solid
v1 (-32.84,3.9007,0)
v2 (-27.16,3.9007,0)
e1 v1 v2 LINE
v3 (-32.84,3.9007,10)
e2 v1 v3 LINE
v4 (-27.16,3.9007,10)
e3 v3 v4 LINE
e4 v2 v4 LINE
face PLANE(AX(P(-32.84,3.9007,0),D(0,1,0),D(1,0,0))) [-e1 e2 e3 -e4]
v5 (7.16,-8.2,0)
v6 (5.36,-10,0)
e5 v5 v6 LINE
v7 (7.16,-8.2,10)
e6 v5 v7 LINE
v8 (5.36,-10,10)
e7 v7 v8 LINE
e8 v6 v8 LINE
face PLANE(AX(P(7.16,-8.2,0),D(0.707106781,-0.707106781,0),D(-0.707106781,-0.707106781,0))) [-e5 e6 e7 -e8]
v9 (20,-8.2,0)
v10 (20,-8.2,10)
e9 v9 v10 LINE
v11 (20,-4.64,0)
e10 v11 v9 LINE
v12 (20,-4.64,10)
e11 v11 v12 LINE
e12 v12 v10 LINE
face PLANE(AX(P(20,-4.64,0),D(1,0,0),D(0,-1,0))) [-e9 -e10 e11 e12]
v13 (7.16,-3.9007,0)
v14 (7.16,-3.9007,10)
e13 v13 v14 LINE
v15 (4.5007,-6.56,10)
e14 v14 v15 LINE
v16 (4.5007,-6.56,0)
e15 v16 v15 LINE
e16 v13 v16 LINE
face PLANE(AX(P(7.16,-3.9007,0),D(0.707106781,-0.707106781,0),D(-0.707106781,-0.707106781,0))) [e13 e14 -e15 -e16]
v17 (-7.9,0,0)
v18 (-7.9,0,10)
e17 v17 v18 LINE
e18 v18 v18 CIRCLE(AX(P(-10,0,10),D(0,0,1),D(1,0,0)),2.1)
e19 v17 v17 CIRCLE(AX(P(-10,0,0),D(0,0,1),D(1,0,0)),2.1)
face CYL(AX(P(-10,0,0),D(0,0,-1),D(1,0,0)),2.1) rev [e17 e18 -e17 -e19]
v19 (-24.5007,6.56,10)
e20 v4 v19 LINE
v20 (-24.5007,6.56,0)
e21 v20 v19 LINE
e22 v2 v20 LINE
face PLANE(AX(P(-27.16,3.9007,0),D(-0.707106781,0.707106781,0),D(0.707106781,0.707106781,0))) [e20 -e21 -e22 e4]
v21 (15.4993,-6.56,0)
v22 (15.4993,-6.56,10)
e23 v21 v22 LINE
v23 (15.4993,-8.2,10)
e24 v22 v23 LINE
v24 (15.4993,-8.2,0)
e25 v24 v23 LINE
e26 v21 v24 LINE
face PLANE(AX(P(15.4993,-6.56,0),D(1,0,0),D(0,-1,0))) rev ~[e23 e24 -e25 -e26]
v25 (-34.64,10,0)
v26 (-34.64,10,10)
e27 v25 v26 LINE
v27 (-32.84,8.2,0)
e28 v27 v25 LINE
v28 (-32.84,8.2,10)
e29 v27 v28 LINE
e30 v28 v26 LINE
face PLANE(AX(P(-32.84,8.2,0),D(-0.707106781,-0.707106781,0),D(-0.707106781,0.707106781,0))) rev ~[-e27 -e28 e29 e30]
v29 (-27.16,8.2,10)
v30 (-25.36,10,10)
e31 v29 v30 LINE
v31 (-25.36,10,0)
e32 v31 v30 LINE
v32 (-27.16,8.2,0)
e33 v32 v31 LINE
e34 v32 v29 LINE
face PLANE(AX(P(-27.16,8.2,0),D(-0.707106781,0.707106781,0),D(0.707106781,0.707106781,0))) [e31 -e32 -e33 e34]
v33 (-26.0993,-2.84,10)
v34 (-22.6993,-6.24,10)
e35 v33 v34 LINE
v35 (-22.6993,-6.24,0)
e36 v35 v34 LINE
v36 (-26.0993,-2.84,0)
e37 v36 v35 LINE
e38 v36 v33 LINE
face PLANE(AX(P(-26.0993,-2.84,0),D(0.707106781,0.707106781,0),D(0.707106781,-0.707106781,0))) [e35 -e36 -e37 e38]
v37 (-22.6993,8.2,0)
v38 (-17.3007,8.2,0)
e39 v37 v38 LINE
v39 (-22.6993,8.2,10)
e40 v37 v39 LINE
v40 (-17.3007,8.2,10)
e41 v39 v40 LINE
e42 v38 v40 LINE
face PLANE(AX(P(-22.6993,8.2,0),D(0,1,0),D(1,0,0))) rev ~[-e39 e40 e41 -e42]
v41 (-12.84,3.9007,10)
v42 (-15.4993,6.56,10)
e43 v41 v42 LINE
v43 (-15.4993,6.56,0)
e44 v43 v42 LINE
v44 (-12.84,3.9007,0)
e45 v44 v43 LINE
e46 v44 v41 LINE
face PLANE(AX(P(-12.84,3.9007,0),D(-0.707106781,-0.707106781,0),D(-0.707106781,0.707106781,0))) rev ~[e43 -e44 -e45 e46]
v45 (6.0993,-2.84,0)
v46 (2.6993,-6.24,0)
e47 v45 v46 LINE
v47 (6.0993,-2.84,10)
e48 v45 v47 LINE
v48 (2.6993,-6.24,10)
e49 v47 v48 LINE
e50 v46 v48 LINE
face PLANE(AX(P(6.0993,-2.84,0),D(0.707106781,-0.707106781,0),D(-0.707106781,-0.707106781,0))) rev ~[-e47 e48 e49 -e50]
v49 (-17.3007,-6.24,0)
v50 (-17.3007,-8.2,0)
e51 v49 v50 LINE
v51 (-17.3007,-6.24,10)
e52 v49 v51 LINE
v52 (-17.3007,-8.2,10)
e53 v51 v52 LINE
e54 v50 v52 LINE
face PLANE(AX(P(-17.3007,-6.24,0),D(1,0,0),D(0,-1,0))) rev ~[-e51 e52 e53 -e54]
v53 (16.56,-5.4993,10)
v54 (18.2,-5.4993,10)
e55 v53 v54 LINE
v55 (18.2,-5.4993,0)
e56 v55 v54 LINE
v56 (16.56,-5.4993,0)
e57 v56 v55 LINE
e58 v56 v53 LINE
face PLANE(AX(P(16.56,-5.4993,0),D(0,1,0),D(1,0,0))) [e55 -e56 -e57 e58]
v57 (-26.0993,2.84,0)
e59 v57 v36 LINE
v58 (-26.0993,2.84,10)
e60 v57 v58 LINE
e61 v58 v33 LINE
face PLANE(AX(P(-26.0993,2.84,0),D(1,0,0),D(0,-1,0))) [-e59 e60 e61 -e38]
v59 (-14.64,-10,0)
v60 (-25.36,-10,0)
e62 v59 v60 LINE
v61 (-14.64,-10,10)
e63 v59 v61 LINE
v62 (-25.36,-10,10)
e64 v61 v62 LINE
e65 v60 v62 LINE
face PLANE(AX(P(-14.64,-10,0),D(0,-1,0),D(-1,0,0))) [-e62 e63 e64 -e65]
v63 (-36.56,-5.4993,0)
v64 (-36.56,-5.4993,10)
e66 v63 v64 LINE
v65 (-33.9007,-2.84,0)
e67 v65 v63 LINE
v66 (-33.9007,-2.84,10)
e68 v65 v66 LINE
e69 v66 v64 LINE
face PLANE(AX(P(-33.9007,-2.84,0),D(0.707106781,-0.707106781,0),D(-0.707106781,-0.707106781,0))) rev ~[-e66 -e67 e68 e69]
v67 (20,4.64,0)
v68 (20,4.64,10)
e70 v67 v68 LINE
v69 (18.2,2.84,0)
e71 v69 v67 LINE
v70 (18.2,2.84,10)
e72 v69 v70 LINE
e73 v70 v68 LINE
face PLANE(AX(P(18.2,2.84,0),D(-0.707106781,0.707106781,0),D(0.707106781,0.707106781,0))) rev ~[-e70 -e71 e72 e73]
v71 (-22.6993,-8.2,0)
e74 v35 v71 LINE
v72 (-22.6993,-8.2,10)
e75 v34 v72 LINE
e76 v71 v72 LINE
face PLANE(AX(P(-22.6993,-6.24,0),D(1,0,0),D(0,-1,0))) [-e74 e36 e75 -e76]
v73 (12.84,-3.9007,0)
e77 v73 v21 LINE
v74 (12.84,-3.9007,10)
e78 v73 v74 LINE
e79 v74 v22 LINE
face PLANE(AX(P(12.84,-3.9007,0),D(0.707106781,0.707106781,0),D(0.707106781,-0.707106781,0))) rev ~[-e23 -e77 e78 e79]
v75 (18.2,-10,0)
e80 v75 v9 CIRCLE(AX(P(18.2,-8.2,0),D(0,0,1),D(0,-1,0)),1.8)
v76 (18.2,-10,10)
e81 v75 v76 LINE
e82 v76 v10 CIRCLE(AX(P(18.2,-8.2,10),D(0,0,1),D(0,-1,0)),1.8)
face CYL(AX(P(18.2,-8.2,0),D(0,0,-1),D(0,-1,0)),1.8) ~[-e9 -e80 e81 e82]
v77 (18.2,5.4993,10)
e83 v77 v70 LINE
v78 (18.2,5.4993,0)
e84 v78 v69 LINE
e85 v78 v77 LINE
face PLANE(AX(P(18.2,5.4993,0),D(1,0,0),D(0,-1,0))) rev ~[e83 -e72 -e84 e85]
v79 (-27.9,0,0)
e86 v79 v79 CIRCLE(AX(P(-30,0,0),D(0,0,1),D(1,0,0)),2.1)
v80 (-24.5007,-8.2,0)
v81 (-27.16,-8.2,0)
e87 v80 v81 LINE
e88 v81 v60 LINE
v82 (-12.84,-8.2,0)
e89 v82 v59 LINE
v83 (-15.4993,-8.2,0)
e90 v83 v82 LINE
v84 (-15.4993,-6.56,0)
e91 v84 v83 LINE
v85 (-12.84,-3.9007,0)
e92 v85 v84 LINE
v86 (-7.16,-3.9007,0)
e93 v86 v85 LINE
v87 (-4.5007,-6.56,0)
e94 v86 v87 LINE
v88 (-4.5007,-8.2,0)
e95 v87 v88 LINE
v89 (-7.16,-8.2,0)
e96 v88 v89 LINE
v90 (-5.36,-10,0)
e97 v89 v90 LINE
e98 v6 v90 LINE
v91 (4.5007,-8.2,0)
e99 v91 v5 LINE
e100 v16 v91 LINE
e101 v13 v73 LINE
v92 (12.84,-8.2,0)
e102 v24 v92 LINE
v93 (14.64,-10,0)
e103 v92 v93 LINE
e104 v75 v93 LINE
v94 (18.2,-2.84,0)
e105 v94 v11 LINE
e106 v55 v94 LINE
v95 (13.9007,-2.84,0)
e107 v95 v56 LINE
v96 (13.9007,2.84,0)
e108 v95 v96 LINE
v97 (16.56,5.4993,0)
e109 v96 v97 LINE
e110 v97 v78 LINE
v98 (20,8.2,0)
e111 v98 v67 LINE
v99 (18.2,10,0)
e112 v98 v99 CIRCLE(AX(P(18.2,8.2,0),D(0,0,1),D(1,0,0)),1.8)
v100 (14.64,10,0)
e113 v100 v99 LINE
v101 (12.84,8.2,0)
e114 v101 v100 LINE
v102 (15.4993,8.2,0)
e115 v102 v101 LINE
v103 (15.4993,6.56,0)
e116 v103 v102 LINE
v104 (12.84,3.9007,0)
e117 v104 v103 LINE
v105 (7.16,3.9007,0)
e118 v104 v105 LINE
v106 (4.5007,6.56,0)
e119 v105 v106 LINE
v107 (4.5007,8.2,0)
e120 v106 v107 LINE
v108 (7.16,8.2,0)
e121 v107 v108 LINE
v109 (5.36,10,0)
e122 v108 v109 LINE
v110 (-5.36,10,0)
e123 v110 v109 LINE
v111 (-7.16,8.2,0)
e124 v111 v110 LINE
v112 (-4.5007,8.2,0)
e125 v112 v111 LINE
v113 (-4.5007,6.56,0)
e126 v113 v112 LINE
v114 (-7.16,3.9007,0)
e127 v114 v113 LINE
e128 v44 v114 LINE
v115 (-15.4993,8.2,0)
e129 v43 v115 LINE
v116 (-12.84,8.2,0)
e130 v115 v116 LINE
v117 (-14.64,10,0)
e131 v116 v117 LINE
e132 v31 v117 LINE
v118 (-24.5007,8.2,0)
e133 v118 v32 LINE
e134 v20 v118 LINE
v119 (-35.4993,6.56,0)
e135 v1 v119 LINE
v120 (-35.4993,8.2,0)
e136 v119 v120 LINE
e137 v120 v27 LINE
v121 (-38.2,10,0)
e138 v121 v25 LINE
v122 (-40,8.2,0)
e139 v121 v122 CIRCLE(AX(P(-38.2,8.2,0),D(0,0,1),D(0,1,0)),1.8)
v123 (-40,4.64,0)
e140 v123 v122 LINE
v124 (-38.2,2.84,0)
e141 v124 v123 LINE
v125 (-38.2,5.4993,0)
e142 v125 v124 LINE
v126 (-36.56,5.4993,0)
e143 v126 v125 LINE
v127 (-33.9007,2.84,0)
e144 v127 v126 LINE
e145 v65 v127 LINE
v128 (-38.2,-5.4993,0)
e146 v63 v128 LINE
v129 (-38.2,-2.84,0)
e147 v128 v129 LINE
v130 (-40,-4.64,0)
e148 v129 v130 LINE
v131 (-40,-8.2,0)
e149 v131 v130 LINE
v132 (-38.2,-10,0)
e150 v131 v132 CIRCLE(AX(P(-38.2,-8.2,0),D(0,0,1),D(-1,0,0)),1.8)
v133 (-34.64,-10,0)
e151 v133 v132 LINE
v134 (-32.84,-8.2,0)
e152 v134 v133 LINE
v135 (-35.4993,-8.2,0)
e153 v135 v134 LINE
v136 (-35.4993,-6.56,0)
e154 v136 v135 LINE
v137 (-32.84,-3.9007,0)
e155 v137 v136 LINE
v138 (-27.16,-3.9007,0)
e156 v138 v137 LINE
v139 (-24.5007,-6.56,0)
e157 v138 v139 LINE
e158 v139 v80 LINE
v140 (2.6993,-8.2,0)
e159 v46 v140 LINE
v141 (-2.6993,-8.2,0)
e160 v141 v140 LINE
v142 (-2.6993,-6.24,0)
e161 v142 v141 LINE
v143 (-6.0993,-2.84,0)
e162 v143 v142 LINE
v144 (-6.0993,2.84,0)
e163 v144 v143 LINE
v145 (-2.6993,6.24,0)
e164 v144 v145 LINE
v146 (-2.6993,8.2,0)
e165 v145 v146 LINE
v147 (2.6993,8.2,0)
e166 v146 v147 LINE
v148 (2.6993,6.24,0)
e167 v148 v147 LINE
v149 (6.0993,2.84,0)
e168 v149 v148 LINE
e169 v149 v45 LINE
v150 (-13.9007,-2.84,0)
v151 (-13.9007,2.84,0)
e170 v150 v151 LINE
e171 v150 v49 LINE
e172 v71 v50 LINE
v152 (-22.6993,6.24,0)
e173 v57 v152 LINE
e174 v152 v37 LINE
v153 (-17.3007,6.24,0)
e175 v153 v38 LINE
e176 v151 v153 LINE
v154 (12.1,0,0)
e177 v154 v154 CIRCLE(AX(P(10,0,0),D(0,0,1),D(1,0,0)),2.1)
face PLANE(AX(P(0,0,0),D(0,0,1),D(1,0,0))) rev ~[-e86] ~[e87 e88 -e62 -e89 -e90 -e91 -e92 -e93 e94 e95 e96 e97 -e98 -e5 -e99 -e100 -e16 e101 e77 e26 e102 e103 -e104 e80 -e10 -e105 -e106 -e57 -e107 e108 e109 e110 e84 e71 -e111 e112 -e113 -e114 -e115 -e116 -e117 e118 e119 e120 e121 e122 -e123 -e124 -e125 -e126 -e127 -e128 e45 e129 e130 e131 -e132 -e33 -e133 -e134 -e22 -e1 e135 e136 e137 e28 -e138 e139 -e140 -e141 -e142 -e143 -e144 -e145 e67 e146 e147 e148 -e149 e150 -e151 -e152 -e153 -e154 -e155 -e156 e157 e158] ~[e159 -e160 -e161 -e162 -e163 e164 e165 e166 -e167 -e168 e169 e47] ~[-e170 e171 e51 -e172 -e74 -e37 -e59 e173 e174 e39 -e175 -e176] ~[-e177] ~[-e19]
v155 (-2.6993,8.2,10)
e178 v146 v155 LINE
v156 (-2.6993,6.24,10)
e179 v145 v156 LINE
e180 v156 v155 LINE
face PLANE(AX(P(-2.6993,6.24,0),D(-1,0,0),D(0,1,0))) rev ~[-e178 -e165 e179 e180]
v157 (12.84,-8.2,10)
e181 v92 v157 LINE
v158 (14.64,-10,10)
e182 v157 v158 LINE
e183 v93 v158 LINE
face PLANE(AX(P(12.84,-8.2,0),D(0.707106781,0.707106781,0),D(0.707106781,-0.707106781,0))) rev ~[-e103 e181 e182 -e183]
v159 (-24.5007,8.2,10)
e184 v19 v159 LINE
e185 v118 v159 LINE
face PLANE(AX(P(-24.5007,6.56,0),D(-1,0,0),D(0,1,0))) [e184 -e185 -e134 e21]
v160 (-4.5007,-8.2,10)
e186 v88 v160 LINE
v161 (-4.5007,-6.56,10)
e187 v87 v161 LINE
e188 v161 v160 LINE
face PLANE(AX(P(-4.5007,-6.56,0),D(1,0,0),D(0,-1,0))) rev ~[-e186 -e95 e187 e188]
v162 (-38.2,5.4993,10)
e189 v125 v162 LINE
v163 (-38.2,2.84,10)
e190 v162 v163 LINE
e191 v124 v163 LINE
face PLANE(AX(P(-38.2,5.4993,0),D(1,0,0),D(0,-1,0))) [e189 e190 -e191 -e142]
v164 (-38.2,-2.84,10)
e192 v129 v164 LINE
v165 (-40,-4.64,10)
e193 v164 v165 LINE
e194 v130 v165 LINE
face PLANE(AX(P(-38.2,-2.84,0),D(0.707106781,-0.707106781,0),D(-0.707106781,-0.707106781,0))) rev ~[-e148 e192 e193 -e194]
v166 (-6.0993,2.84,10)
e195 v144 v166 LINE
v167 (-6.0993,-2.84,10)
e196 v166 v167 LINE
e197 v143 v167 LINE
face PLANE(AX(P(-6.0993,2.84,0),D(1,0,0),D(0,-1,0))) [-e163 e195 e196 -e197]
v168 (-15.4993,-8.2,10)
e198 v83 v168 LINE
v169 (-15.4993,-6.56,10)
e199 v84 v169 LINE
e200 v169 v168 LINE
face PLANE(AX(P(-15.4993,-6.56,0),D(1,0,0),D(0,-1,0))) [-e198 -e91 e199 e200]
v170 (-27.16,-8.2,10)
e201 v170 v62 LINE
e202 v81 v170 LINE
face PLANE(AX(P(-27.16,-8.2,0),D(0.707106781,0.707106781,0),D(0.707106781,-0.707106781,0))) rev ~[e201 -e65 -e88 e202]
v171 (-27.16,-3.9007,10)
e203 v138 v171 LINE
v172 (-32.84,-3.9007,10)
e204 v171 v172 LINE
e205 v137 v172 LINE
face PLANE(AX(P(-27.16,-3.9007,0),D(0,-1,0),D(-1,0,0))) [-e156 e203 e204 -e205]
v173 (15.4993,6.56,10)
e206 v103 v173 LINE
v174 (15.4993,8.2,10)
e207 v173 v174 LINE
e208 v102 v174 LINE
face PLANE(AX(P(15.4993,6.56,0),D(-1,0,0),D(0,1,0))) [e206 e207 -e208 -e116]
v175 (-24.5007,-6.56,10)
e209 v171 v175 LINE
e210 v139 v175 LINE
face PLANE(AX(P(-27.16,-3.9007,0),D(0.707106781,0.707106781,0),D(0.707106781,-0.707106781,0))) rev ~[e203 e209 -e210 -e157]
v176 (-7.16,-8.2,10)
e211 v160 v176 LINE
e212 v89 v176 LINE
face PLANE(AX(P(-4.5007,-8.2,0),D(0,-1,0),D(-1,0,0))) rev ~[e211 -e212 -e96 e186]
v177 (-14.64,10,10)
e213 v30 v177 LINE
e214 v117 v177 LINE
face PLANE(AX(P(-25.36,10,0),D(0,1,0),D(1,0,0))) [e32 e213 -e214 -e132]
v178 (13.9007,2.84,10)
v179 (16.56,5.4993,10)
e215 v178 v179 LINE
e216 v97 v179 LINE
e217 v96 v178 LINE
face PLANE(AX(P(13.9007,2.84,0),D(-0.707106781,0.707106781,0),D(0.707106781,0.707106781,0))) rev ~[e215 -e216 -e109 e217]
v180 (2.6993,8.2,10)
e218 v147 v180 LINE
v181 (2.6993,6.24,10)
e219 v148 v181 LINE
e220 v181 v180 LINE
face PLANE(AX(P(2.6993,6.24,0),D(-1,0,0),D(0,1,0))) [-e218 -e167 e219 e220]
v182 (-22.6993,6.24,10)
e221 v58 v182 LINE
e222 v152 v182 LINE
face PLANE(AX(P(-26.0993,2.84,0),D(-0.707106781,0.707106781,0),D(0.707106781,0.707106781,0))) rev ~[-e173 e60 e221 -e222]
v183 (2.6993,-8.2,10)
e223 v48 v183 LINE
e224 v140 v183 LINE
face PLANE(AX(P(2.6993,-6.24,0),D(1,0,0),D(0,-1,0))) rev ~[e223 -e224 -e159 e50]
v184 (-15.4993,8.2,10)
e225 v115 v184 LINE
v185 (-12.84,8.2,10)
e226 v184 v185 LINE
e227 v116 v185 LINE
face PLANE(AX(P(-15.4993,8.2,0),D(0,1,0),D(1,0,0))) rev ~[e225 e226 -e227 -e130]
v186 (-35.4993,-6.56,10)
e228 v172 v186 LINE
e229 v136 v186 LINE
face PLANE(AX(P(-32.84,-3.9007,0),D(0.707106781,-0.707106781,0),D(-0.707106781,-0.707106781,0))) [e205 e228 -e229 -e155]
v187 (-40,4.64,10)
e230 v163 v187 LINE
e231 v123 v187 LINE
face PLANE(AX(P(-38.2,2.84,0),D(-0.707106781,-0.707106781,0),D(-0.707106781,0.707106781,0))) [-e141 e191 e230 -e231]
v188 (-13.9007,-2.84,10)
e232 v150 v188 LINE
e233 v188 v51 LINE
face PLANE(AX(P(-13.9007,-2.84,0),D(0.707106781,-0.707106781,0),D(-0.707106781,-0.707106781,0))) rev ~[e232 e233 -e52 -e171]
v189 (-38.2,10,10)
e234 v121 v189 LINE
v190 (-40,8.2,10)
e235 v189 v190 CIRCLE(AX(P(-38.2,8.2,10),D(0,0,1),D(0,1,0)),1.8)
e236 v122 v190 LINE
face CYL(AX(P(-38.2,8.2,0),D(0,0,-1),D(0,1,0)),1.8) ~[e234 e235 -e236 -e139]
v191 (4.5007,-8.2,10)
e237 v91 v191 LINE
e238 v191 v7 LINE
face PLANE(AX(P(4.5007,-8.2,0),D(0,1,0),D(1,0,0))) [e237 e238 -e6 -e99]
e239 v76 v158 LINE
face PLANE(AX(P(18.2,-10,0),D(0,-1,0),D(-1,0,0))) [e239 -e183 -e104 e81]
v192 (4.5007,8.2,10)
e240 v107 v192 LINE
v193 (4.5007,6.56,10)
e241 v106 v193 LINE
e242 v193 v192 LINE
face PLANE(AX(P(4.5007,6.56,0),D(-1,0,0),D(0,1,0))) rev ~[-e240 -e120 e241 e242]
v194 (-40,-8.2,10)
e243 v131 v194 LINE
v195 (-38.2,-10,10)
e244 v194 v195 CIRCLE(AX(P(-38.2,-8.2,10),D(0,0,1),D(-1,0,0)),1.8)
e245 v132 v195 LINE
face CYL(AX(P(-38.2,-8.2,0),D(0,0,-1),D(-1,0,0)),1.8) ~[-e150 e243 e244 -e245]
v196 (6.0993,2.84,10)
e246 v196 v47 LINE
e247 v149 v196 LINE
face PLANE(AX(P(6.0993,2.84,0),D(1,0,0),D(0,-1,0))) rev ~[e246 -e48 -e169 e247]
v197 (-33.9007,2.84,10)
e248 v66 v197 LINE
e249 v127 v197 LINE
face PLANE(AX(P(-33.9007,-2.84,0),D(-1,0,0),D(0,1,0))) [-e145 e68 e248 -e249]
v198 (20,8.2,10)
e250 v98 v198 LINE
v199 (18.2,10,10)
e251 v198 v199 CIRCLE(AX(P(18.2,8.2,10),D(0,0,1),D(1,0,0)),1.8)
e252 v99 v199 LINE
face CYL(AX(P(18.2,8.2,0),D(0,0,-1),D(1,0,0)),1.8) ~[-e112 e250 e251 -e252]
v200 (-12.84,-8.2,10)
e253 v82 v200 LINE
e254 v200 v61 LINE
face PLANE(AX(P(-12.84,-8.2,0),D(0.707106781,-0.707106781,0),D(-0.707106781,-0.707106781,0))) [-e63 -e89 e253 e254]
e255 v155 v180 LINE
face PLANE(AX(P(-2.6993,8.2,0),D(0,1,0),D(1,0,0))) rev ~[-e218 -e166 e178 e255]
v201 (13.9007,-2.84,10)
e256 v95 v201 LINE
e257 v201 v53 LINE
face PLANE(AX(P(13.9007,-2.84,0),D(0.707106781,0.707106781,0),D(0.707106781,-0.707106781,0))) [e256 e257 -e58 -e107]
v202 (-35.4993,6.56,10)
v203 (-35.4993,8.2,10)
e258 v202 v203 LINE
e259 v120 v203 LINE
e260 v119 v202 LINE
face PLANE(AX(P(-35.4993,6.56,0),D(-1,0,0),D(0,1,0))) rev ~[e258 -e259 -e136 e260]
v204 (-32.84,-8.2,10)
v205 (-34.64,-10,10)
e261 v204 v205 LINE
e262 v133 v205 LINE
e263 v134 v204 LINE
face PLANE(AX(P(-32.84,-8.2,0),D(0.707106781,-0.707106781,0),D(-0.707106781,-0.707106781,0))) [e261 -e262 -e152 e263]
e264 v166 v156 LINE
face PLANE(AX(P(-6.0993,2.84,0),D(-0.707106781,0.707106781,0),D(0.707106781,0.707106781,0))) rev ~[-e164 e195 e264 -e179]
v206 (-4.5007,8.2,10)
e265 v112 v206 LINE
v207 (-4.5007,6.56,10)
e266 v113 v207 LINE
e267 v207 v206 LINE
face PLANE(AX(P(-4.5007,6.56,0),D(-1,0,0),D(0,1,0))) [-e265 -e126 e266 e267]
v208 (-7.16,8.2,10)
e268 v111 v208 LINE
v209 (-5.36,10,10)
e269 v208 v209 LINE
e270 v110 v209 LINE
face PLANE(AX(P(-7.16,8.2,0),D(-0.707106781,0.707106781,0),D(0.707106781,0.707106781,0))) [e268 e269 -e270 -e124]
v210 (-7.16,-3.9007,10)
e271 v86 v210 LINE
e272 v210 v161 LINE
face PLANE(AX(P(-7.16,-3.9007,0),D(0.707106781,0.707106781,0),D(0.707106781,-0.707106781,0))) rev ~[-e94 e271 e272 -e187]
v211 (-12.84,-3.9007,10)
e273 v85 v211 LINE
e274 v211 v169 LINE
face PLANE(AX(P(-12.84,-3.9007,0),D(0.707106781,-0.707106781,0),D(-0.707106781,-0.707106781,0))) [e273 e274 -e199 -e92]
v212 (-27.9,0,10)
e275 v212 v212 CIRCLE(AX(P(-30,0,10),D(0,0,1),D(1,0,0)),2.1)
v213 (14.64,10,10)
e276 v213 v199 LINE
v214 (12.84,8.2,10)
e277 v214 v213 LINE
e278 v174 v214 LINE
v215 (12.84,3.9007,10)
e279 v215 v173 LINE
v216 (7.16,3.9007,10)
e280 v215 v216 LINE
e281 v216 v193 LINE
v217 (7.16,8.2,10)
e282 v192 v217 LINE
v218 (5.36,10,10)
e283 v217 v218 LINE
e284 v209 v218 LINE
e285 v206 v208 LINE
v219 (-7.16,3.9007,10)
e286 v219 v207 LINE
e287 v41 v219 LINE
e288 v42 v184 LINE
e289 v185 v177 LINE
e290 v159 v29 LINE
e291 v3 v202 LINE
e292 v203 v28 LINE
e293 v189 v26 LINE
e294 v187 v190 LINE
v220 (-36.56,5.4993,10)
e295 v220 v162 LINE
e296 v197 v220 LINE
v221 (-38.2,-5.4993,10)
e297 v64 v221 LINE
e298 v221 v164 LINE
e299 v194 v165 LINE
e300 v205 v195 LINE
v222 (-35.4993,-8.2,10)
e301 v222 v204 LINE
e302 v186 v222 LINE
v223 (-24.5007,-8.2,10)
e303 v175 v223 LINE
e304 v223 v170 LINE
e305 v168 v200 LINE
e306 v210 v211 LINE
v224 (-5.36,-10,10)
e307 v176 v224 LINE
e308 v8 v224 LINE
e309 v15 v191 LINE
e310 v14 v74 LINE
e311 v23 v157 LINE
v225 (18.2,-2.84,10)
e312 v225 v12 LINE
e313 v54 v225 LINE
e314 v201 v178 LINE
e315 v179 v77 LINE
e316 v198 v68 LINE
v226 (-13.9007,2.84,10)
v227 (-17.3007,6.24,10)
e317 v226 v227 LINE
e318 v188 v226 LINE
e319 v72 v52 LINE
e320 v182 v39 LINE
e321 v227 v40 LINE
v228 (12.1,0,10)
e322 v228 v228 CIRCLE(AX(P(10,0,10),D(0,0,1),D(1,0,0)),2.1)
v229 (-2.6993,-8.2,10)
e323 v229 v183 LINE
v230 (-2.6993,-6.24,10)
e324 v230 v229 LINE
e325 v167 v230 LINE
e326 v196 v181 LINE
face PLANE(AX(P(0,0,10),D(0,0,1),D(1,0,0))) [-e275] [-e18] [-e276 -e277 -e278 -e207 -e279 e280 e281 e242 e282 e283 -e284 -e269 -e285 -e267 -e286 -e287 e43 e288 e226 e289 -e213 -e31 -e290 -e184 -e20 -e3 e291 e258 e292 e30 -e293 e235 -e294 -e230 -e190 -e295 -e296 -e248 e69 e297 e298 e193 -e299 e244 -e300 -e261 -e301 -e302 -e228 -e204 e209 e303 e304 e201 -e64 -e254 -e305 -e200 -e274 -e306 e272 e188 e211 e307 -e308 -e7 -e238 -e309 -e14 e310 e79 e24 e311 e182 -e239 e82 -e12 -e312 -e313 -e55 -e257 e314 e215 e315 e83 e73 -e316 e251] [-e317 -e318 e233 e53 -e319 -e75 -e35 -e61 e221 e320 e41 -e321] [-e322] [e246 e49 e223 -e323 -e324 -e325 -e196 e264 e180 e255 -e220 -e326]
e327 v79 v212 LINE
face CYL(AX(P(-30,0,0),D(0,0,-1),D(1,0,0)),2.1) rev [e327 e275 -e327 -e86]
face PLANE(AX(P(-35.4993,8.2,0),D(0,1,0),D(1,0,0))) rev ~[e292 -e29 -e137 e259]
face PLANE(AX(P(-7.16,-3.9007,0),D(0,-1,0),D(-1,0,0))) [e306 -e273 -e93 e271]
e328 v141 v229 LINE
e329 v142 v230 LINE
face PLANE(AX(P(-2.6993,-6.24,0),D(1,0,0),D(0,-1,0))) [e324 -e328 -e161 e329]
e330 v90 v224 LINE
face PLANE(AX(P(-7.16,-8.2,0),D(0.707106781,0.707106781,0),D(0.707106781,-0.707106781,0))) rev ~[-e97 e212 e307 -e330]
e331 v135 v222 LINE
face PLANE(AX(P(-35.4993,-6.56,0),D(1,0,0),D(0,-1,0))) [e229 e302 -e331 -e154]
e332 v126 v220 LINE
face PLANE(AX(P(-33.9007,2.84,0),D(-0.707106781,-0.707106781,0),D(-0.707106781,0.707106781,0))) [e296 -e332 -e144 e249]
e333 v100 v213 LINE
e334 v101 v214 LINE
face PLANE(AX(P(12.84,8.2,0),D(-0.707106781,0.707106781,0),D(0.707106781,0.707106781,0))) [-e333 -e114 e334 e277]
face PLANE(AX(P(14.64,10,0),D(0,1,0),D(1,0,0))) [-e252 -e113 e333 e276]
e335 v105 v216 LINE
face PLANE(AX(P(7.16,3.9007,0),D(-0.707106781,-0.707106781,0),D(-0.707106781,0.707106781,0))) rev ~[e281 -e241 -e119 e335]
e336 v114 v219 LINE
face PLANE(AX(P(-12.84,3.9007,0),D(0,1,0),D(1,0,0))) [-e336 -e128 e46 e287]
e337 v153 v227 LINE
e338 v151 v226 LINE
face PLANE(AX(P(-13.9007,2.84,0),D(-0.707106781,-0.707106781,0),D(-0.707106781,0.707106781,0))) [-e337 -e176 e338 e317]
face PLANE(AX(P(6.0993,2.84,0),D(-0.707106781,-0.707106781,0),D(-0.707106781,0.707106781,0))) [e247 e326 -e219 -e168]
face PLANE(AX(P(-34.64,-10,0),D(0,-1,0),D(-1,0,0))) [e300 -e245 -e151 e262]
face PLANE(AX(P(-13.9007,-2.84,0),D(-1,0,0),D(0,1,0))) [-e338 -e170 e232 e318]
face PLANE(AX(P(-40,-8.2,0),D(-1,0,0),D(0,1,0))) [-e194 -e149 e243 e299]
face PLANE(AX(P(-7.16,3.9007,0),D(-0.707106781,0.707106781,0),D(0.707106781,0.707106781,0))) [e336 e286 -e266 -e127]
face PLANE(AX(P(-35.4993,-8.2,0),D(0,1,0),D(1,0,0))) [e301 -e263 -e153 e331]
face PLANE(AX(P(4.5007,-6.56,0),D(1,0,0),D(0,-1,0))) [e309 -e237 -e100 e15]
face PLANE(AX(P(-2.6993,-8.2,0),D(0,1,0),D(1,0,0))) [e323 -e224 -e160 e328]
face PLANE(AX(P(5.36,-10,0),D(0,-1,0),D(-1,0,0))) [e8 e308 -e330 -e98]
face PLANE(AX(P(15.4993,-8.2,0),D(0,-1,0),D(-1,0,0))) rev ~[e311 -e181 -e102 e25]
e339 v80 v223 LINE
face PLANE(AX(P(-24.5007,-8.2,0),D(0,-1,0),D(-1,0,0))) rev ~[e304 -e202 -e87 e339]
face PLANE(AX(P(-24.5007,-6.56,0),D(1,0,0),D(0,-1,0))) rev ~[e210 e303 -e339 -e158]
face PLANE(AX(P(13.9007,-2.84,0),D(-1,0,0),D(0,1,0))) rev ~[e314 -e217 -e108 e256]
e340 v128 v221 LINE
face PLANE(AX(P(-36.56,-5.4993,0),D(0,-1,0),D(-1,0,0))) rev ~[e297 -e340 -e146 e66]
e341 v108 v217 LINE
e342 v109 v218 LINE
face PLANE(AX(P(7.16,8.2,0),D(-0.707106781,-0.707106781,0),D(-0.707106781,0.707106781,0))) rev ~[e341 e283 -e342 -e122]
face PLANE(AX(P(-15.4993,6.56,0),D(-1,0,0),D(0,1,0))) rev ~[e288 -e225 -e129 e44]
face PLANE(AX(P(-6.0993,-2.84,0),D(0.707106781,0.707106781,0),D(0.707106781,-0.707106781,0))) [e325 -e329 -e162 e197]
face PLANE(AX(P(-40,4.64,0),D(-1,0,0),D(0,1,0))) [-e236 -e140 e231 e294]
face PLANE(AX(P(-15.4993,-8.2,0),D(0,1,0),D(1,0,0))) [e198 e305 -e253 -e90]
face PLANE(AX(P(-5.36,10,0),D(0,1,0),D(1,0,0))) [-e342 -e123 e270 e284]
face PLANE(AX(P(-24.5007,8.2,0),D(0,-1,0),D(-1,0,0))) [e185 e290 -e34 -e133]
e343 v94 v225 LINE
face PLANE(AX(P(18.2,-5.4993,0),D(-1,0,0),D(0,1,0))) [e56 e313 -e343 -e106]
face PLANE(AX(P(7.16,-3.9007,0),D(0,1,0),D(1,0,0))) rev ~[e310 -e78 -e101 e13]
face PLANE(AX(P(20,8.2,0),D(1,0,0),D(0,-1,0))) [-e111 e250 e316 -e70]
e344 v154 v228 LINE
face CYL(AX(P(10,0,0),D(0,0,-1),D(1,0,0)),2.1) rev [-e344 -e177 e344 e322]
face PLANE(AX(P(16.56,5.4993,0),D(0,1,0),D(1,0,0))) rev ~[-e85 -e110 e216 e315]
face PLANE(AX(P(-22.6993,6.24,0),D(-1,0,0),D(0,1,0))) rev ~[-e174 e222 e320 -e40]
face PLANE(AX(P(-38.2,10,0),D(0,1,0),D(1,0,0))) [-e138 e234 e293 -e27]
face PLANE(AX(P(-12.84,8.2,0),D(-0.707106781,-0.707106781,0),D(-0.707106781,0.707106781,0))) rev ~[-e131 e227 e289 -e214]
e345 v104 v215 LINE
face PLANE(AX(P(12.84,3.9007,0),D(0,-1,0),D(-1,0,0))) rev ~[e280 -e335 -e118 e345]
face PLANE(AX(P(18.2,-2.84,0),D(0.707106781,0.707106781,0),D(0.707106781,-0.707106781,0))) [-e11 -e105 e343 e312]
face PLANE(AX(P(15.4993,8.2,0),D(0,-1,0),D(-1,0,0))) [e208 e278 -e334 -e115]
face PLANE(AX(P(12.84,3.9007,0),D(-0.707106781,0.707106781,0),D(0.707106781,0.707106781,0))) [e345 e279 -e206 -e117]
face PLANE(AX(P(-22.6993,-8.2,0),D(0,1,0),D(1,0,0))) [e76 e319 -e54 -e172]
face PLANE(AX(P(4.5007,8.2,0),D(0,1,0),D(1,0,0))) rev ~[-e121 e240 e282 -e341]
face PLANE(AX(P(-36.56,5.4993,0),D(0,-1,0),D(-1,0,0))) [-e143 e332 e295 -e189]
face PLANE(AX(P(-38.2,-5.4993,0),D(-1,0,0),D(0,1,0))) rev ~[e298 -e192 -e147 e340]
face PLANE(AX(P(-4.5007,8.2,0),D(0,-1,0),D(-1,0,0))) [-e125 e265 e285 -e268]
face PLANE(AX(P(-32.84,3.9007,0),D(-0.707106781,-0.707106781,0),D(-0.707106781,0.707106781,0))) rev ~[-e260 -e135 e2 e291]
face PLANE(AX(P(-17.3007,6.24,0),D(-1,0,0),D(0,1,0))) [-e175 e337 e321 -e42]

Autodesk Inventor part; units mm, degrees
ref_plane "YZ Plane" through (0, 0, 0) normal (1, 0, 0) x (0, 1, 0)
ref_plane "Start Plane" through (0, 0, 0) normal (0, 0, 1) x (1, 0, 0)
ref_plane "End Plane" through (0, 0, 10) normal (0, 0, 1) x (1, 0, 0)
sketch "Sketch1" plane through (0, 0, 0) normal (0, 0, 1) x (1, 0, 0)
  line L0 (0, 0) -> (0, 10) construction
  line L1 (0, 10) -> (-10, 10) construction
  line L2 (-10, 10) -> (-10, 0) construction
  line L3 (-10, 10) -> (-20, 10) construction
  line L4 (-20, 10) -> (-20, 0) construction
  circle A0 centre (-10, 0) radius 2.1
  line L5 (-13.9007, -3.9007) -> (-6.0993, -3.9007) construction
  line L6 (-6.0993, -3.9007) -> (-6.0993, 3.9007) construction
  line L7 (-6.0993, 3.9007) -> (-13.9007, 3.9007) construction
  line L8 (-13.9007, 3.9007) -> (-13.9007, -3.9007) construction
  line L9 (-13.9007, -3.9007) -> (-6.0993, 3.9007) construction
  line L10 (-6.0993, -3.9007) -> (-13.9007, 3.9007) construction
  line L11 (-13.9007, -2.84) -> (-12.84, -3.9007) construction
  line L12 (-13.9007, -2.84) -> (-12.4007, -2.84) construction
  line L13 (0, 0) -> (-10, 0) construction
  line L14 (-12.84, -3.9007) -> (-15.4993, -6.56)
  line L15 (-15.4993, -6.56) -> (-15.4993, -8.2)
  line L16 (-15.4993, -8.2) -> (-12.84, -8.2)
  line L17 (-12.84, -8.2) -> (-14.64, -10)
  line L18 (-7.16, -3.9007) -> (-4.5007, -6.56)
  line L19 (-4.5007, -6.56) -> (-4.5007, -8.2)
  line L20 (-4.5007, -8.2) -> (-7.16, -8.2)
  line L21 (-7.16, -8.2) -> (-5.36, -10)
  line L22 (-12.84, 3.9007) -> (-15.4993, 6.56)
  line L23 (-15.4993, 6.56) -> (-15.4993, 8.2)
  line L24 (-15.4993, 8.2) -> (-12.84, 8.2)
  line L25 (-12.84, 8.2) -> (-14.64, 10)
  line L26 (-7.16, 3.9007) -> (-4.5007, 6.56)
  line L27 (-4.5007, 6.56) -> (-4.5007, 8.2)
  line L28 (-4.5007, 8.2) -> (-7.16, 8.2)
  line L29 (-7.16, 8.2) -> (-5.36, 10)
  line L30 (-20, -8.2) -> (-15.4993, -8.2) construction
  line L31 (-13.9007, -2.84) -> (-17.3007, -6.24)
  line L32 (-17.3007, -6.24) -> (-17.3007, -8.2)
  line L33 (-13.9007, 2.84) -> (-17.3007, 6.24)
  line L34 (-17.3007, 6.24) -> (-17.3007, 8.2)
  line L35 (-6.0993, -2.84) -> (-2.6993, -6.24)
  line L36 (-2.6993, -6.24) -> (-2.6993, -8.2)
  line L37 (-2.6993, 6.24) -> (-2.6993, 8.2)
  line L38 (-6.0993, 2.84) -> (-2.6993, 6.24)
  line L39 (-30, 10) -> (-30, 0) construction
  line L40 (-30, 10) -> (-20, 10) construction
  circle A1 centre (-30, 0) radius 2.1
  line L41 (-26.0993, -3.9007) -> (-33.9007, -3.9007) construction
  line L42 (-33.9007, -3.9007) -> (-33.9007, 3.9007) construction
  line L43 (-33.9007, 3.9007) -> (-26.0993, 3.9007) construction
  line L44 (-26.0993, 3.9007) -> (-26.0993, -3.9007) construction
  line L45 (-26.0993, -3.9007) -> (-33.9007, 3.9007) construction
  line L46 (-33.9007, -3.9007) -> (-26.0993, 3.9007) construction
  line L47 (-26.0993, -2.84) -> (-27.16, -3.9007) construction
  line L48 (-26.0993, -2.84) -> (-27.5993, -2.84) construction
  line L49 (-27.16, -3.9007) -> (-24.5007, -6.56)
  line L50 (-24.5007, -6.56) -> (-24.5007, -8.2)
  line L51 (-24.5007, -8.2) -> (-27.16, -8.2)
  line L52 (-27.16, -8.2) -> (-25.36, -10)
  line L53 (-32.84, -3.9007) -> (-35.4993, -6.56)
  line L54 (-35.4993, -6.56) -> (-35.4993, -8.2)
  line L55 (-35.4993, -8.2) -> (-32.84, -8.2)
  line L56 (-32.84, -8.2) -> (-34.64, -10)
  line L57 (-27.16, 3.9007) -> (-24.5007, 6.56)
  line L58 (-24.5007, 6.56) -> (-24.5007, 8.2)
  line L59 (-24.5007, 8.2) -> (-27.16, 8.2)
  line L60 (-27.16, 8.2) -> (-25.36, 10)
  line L61 (-32.84, 8.2) -> (-34.64, 10)
  line L62 (-35.4993, 8.2) -> (-32.84, 8.2)
  line L63 (-35.4993, 6.56) -> (-35.4993, 8.2)
  line L64 (-32.84, 3.9007) -> (-35.4993, 6.56)
  line L65 (-20, -8.2) -> (-24.5007, -8.2) construction
  line L66 (-26.0993, -2.84) -> (-22.6993, -6.24)
  line L67 (-22.6993, -6.24) -> (-22.6993, -8.2)
  line L68 (-22.6993, 6.24) -> (-22.6993, 8.2)
  line L69 (-26.0993, 2.84) -> (-22.6993, 6.24)
  line L70 (10, 10) -> (10, 0) construction
  circle A2 centre (10, 0) radius 2.1
  line L71 (13.9007, -3.9007) -> (6.0993, -3.9007) construction
  line L72 (6.0993, -3.9007) -> (6.0993, 3.9007) construction
  line L73 (6.0993, 3.9007) -> (13.9007, 3.9007) construction
  line L74 (13.9007, 3.9007) -> (13.9007, -3.9007) construction
  line L75 (13.9007, -3.9007) -> (6.0993, 3.9007) construction
  line L76 (6.0993, -3.9007) -> (13.9007, 3.9007) construction
  line L77 (13.9007, -2.84) -> (12.84, -3.9007) construction
  line L78 (13.9007, -2.84) -> (12.4007, -2.84) construction
  line L79 (12.84, -3.9007) -> (15.4993, -6.56)
  line L80 (15.4993, -6.56) -> (15.4993, -8.2)
  line L81 (15.4993, -8.2) -> (12.84, -8.2)
  line L82 (12.84, -8.2) -> (14.64, -10)
  line L83 (7.16, -3.9007) -> (4.5007, -6.56)
  line L84 (4.5007, -6.56) -> (4.5007, -8.2)
  line L85 (4.5007, -8.2) -> (7.16, -8.2)
  line L86 (7.16, -8.2) -> (5.36, -10)
  line L87 (12.84, 3.9007) -> (15.4993, 6.56)
  line L88 (15.4993, 6.56) -> (15.4993, 8.2)
  line L89 (15.4993, 8.2) -> (12.84, 8.2)
  line L90 (12.84, 8.2) -> (14.64, 10)
  line L91 (7.16, 8.2) -> (5.36, 10)
  line L92 (4.5007, 8.2) -> (7.16, 8.2)
  line L93 (4.5007, 6.56) -> (4.5007, 8.2)
  line L94 (7.16, 3.9007) -> (4.5007, 6.56)
  line L95 (2.6993, 6.24) -> (2.6993, 8.2)
  line L96 (6.0993, 2.84) -> (2.6993, 6.24)
  line L97 (6.0993, -2.84) -> (2.6993, -6.24)
  line L98 (2.6993, -6.24) -> (2.6993, -8.2)
  line L99 (-33.9007, -2.84) -> (-36.56, -5.4993)
  line L100 (-38.2, -5.4993) -> (-38.2, -2.84)
  line L101 (-38.2, -2.84) -> (-40, -4.64)
  line L102 (-36.56, -5.4993) -> (-38.2, -5.4993)
  line L103 (-32.84, 3.9007) -> (-35.4993, 6.56)
  line L104 (-35.4993, 8.2) -> (-32.84, 8.2)
  line L105 (-32.84, 8.2) -> (-34.64, 10)
  line L106 (-35.4993, 6.56) -> (-35.4993, 8.2)
  line L107 (-38.2, 2.84) -> (-40, 4.64)
  line L108 (-38.2, 5.4993) -> (-38.2, 2.84)
  line L109 (-36.56, 5.4993) -> (-38.2, 5.4993)
  line L110 (-33.9007, 2.84) -> (-36.56, 5.4993)
  line L111 (18.2, -2.84) -> (20, -4.64)
  line L112 (18.2, -5.4993) -> (18.2, -2.84)
  line L113 (16.56, -5.4993) -> (18.2, -5.4993)
  line L114 (13.9007, -2.84) -> (16.56, -5.4993)
  line L115 (18.2, 2.84) -> (20, 4.64)
  line L116 (18.2, 5.4993) -> (18.2, 2.84)
  line L117 (16.56, 5.4993) -> (18.2, 5.4993)
  line L118 (13.9007, 2.84) -> (16.56, 5.4993)
  line L119 (-25.36, 10) -> (-14.64, 10)
  line L120 (-5.36, 10) -> (5.36, 10)
  line L121 (5.36, -10) -> (-5.36, -10)
  line L122 (-14.64, -10) -> (-25.36, -10)
  line L123 (-2.6993, 8.2) -> (2.6993, 8.2)
  line L124 (-2.6993, -8.2) -> (2.6993, -8.2)
  line L125 (6.0993, 2.84) -> (6.0993, -2.84)
  line L126 (7.16, -3.9007) -> (12.84, -3.9007)
  line L127 (13.9007, -2.84) -> (13.9007, 2.84)
  line L128 (12.84, 3.9007) -> (7.16, 3.9007)
  line L129 (-6.0993, 2.84) -> (-6.0993, -2.84)
  line L130 (-7.16, -3.9007) -> (-12.84, -3.9007)
  line L131 (-13.9007, -2.84) -> (-13.9007, 2.84)
  line L132 (-12.84, 3.9007) -> (-7.16, 3.9007)
  line L133 (-22.6993, -8.2) -> (-17.3007, -8.2)
  line L134 (-22.6993, 8.2) -> (-17.3007, 8.2)
  line L135 (-26.0993, 2.84) -> (-26.0993, -2.84)
  line L136 (-27.16, -3.9007) -> (-32.84, -3.9007)
  line L137 (-33.9007, -2.84) -> (-33.9007, 2.84)
  line L138 (-32.84, 3.9007) -> (-27.16, 3.9007)
  line L139 (-34.64, -10) -> (-38.2, -10)
  line L140 (-40, -8.2) -> (-40, -4.64)
  line L141 (-40, 4.64) -> (-40, 8.2)
  line L142 (-38.2, 10) -> (-34.64, 10)
  line L143 (14.64, 10) -> (18.2, 10)
  line L144 (20, 8.2) -> (20, 4.64)
  line L145 (20, -4.64) -> (20, -8.2)
  line L146 (18.2, -10) -> (14.64, -10)
  arc A3 (-38.2, 10) -> (-40, 8.2) centre (-38.2, 8.2) ccw
  arc A4 (-40, -8.2) -> (-38.2, -10) centre (-38.2, -8.2) ccw
  arc A5 (18.2, -10) -> (20, -8.2) centre (18.2, -8.2) ccw
  arc A6 (20, 8.2) -> (18.2, 10) centre (18.2, 8.2) ccw
  dimension "d0" = 10
  dimension "d1" = 10
  dimension "d2" = 10
  dimension "d3" = 4.2
  dimension "d4" = 1.5
  dimension "d5" = 45
  dimension "d6" = 1.64
  dimension "d7" = 1.8
  dimension "d8" = 10
  dimension "d9" = 2.84
  dimension "d11" = 135
  dimension "d12" = 1.96
  dimension "d13" = 5.68
  dimension "d14" = 1.8
extrude "Body" add sketch "Sketch1" along normal up to surface (10 mm away) from surface at 0
sketch "Sketch4" plane through (0, 0, 0) normal (0, 0, 1) x (1, 0, 0)
  line L0 (0, 0) -> (10, 0)
ref_plane "Work Plane4" through (0, 0, 0) normal (0, -1, 0) x (1, 0, 0)
sketch "Sketch5" plane through (0, 0, 0) normal (0, -1, 0) x (1, 0, 0)
  line L0 (-52, 0) -> (32, 0)
  line L1 (-52, 10) -> (32, 10)
  dimension "d22" = 10
equation "\"G_OFFSET_START\" = 0"
equation "\"G_OFFSET_END\" = 0"
equation "\"G_L\" = d22"
properties part number "vslot 20 x 60" material "Aluminum 6061"
